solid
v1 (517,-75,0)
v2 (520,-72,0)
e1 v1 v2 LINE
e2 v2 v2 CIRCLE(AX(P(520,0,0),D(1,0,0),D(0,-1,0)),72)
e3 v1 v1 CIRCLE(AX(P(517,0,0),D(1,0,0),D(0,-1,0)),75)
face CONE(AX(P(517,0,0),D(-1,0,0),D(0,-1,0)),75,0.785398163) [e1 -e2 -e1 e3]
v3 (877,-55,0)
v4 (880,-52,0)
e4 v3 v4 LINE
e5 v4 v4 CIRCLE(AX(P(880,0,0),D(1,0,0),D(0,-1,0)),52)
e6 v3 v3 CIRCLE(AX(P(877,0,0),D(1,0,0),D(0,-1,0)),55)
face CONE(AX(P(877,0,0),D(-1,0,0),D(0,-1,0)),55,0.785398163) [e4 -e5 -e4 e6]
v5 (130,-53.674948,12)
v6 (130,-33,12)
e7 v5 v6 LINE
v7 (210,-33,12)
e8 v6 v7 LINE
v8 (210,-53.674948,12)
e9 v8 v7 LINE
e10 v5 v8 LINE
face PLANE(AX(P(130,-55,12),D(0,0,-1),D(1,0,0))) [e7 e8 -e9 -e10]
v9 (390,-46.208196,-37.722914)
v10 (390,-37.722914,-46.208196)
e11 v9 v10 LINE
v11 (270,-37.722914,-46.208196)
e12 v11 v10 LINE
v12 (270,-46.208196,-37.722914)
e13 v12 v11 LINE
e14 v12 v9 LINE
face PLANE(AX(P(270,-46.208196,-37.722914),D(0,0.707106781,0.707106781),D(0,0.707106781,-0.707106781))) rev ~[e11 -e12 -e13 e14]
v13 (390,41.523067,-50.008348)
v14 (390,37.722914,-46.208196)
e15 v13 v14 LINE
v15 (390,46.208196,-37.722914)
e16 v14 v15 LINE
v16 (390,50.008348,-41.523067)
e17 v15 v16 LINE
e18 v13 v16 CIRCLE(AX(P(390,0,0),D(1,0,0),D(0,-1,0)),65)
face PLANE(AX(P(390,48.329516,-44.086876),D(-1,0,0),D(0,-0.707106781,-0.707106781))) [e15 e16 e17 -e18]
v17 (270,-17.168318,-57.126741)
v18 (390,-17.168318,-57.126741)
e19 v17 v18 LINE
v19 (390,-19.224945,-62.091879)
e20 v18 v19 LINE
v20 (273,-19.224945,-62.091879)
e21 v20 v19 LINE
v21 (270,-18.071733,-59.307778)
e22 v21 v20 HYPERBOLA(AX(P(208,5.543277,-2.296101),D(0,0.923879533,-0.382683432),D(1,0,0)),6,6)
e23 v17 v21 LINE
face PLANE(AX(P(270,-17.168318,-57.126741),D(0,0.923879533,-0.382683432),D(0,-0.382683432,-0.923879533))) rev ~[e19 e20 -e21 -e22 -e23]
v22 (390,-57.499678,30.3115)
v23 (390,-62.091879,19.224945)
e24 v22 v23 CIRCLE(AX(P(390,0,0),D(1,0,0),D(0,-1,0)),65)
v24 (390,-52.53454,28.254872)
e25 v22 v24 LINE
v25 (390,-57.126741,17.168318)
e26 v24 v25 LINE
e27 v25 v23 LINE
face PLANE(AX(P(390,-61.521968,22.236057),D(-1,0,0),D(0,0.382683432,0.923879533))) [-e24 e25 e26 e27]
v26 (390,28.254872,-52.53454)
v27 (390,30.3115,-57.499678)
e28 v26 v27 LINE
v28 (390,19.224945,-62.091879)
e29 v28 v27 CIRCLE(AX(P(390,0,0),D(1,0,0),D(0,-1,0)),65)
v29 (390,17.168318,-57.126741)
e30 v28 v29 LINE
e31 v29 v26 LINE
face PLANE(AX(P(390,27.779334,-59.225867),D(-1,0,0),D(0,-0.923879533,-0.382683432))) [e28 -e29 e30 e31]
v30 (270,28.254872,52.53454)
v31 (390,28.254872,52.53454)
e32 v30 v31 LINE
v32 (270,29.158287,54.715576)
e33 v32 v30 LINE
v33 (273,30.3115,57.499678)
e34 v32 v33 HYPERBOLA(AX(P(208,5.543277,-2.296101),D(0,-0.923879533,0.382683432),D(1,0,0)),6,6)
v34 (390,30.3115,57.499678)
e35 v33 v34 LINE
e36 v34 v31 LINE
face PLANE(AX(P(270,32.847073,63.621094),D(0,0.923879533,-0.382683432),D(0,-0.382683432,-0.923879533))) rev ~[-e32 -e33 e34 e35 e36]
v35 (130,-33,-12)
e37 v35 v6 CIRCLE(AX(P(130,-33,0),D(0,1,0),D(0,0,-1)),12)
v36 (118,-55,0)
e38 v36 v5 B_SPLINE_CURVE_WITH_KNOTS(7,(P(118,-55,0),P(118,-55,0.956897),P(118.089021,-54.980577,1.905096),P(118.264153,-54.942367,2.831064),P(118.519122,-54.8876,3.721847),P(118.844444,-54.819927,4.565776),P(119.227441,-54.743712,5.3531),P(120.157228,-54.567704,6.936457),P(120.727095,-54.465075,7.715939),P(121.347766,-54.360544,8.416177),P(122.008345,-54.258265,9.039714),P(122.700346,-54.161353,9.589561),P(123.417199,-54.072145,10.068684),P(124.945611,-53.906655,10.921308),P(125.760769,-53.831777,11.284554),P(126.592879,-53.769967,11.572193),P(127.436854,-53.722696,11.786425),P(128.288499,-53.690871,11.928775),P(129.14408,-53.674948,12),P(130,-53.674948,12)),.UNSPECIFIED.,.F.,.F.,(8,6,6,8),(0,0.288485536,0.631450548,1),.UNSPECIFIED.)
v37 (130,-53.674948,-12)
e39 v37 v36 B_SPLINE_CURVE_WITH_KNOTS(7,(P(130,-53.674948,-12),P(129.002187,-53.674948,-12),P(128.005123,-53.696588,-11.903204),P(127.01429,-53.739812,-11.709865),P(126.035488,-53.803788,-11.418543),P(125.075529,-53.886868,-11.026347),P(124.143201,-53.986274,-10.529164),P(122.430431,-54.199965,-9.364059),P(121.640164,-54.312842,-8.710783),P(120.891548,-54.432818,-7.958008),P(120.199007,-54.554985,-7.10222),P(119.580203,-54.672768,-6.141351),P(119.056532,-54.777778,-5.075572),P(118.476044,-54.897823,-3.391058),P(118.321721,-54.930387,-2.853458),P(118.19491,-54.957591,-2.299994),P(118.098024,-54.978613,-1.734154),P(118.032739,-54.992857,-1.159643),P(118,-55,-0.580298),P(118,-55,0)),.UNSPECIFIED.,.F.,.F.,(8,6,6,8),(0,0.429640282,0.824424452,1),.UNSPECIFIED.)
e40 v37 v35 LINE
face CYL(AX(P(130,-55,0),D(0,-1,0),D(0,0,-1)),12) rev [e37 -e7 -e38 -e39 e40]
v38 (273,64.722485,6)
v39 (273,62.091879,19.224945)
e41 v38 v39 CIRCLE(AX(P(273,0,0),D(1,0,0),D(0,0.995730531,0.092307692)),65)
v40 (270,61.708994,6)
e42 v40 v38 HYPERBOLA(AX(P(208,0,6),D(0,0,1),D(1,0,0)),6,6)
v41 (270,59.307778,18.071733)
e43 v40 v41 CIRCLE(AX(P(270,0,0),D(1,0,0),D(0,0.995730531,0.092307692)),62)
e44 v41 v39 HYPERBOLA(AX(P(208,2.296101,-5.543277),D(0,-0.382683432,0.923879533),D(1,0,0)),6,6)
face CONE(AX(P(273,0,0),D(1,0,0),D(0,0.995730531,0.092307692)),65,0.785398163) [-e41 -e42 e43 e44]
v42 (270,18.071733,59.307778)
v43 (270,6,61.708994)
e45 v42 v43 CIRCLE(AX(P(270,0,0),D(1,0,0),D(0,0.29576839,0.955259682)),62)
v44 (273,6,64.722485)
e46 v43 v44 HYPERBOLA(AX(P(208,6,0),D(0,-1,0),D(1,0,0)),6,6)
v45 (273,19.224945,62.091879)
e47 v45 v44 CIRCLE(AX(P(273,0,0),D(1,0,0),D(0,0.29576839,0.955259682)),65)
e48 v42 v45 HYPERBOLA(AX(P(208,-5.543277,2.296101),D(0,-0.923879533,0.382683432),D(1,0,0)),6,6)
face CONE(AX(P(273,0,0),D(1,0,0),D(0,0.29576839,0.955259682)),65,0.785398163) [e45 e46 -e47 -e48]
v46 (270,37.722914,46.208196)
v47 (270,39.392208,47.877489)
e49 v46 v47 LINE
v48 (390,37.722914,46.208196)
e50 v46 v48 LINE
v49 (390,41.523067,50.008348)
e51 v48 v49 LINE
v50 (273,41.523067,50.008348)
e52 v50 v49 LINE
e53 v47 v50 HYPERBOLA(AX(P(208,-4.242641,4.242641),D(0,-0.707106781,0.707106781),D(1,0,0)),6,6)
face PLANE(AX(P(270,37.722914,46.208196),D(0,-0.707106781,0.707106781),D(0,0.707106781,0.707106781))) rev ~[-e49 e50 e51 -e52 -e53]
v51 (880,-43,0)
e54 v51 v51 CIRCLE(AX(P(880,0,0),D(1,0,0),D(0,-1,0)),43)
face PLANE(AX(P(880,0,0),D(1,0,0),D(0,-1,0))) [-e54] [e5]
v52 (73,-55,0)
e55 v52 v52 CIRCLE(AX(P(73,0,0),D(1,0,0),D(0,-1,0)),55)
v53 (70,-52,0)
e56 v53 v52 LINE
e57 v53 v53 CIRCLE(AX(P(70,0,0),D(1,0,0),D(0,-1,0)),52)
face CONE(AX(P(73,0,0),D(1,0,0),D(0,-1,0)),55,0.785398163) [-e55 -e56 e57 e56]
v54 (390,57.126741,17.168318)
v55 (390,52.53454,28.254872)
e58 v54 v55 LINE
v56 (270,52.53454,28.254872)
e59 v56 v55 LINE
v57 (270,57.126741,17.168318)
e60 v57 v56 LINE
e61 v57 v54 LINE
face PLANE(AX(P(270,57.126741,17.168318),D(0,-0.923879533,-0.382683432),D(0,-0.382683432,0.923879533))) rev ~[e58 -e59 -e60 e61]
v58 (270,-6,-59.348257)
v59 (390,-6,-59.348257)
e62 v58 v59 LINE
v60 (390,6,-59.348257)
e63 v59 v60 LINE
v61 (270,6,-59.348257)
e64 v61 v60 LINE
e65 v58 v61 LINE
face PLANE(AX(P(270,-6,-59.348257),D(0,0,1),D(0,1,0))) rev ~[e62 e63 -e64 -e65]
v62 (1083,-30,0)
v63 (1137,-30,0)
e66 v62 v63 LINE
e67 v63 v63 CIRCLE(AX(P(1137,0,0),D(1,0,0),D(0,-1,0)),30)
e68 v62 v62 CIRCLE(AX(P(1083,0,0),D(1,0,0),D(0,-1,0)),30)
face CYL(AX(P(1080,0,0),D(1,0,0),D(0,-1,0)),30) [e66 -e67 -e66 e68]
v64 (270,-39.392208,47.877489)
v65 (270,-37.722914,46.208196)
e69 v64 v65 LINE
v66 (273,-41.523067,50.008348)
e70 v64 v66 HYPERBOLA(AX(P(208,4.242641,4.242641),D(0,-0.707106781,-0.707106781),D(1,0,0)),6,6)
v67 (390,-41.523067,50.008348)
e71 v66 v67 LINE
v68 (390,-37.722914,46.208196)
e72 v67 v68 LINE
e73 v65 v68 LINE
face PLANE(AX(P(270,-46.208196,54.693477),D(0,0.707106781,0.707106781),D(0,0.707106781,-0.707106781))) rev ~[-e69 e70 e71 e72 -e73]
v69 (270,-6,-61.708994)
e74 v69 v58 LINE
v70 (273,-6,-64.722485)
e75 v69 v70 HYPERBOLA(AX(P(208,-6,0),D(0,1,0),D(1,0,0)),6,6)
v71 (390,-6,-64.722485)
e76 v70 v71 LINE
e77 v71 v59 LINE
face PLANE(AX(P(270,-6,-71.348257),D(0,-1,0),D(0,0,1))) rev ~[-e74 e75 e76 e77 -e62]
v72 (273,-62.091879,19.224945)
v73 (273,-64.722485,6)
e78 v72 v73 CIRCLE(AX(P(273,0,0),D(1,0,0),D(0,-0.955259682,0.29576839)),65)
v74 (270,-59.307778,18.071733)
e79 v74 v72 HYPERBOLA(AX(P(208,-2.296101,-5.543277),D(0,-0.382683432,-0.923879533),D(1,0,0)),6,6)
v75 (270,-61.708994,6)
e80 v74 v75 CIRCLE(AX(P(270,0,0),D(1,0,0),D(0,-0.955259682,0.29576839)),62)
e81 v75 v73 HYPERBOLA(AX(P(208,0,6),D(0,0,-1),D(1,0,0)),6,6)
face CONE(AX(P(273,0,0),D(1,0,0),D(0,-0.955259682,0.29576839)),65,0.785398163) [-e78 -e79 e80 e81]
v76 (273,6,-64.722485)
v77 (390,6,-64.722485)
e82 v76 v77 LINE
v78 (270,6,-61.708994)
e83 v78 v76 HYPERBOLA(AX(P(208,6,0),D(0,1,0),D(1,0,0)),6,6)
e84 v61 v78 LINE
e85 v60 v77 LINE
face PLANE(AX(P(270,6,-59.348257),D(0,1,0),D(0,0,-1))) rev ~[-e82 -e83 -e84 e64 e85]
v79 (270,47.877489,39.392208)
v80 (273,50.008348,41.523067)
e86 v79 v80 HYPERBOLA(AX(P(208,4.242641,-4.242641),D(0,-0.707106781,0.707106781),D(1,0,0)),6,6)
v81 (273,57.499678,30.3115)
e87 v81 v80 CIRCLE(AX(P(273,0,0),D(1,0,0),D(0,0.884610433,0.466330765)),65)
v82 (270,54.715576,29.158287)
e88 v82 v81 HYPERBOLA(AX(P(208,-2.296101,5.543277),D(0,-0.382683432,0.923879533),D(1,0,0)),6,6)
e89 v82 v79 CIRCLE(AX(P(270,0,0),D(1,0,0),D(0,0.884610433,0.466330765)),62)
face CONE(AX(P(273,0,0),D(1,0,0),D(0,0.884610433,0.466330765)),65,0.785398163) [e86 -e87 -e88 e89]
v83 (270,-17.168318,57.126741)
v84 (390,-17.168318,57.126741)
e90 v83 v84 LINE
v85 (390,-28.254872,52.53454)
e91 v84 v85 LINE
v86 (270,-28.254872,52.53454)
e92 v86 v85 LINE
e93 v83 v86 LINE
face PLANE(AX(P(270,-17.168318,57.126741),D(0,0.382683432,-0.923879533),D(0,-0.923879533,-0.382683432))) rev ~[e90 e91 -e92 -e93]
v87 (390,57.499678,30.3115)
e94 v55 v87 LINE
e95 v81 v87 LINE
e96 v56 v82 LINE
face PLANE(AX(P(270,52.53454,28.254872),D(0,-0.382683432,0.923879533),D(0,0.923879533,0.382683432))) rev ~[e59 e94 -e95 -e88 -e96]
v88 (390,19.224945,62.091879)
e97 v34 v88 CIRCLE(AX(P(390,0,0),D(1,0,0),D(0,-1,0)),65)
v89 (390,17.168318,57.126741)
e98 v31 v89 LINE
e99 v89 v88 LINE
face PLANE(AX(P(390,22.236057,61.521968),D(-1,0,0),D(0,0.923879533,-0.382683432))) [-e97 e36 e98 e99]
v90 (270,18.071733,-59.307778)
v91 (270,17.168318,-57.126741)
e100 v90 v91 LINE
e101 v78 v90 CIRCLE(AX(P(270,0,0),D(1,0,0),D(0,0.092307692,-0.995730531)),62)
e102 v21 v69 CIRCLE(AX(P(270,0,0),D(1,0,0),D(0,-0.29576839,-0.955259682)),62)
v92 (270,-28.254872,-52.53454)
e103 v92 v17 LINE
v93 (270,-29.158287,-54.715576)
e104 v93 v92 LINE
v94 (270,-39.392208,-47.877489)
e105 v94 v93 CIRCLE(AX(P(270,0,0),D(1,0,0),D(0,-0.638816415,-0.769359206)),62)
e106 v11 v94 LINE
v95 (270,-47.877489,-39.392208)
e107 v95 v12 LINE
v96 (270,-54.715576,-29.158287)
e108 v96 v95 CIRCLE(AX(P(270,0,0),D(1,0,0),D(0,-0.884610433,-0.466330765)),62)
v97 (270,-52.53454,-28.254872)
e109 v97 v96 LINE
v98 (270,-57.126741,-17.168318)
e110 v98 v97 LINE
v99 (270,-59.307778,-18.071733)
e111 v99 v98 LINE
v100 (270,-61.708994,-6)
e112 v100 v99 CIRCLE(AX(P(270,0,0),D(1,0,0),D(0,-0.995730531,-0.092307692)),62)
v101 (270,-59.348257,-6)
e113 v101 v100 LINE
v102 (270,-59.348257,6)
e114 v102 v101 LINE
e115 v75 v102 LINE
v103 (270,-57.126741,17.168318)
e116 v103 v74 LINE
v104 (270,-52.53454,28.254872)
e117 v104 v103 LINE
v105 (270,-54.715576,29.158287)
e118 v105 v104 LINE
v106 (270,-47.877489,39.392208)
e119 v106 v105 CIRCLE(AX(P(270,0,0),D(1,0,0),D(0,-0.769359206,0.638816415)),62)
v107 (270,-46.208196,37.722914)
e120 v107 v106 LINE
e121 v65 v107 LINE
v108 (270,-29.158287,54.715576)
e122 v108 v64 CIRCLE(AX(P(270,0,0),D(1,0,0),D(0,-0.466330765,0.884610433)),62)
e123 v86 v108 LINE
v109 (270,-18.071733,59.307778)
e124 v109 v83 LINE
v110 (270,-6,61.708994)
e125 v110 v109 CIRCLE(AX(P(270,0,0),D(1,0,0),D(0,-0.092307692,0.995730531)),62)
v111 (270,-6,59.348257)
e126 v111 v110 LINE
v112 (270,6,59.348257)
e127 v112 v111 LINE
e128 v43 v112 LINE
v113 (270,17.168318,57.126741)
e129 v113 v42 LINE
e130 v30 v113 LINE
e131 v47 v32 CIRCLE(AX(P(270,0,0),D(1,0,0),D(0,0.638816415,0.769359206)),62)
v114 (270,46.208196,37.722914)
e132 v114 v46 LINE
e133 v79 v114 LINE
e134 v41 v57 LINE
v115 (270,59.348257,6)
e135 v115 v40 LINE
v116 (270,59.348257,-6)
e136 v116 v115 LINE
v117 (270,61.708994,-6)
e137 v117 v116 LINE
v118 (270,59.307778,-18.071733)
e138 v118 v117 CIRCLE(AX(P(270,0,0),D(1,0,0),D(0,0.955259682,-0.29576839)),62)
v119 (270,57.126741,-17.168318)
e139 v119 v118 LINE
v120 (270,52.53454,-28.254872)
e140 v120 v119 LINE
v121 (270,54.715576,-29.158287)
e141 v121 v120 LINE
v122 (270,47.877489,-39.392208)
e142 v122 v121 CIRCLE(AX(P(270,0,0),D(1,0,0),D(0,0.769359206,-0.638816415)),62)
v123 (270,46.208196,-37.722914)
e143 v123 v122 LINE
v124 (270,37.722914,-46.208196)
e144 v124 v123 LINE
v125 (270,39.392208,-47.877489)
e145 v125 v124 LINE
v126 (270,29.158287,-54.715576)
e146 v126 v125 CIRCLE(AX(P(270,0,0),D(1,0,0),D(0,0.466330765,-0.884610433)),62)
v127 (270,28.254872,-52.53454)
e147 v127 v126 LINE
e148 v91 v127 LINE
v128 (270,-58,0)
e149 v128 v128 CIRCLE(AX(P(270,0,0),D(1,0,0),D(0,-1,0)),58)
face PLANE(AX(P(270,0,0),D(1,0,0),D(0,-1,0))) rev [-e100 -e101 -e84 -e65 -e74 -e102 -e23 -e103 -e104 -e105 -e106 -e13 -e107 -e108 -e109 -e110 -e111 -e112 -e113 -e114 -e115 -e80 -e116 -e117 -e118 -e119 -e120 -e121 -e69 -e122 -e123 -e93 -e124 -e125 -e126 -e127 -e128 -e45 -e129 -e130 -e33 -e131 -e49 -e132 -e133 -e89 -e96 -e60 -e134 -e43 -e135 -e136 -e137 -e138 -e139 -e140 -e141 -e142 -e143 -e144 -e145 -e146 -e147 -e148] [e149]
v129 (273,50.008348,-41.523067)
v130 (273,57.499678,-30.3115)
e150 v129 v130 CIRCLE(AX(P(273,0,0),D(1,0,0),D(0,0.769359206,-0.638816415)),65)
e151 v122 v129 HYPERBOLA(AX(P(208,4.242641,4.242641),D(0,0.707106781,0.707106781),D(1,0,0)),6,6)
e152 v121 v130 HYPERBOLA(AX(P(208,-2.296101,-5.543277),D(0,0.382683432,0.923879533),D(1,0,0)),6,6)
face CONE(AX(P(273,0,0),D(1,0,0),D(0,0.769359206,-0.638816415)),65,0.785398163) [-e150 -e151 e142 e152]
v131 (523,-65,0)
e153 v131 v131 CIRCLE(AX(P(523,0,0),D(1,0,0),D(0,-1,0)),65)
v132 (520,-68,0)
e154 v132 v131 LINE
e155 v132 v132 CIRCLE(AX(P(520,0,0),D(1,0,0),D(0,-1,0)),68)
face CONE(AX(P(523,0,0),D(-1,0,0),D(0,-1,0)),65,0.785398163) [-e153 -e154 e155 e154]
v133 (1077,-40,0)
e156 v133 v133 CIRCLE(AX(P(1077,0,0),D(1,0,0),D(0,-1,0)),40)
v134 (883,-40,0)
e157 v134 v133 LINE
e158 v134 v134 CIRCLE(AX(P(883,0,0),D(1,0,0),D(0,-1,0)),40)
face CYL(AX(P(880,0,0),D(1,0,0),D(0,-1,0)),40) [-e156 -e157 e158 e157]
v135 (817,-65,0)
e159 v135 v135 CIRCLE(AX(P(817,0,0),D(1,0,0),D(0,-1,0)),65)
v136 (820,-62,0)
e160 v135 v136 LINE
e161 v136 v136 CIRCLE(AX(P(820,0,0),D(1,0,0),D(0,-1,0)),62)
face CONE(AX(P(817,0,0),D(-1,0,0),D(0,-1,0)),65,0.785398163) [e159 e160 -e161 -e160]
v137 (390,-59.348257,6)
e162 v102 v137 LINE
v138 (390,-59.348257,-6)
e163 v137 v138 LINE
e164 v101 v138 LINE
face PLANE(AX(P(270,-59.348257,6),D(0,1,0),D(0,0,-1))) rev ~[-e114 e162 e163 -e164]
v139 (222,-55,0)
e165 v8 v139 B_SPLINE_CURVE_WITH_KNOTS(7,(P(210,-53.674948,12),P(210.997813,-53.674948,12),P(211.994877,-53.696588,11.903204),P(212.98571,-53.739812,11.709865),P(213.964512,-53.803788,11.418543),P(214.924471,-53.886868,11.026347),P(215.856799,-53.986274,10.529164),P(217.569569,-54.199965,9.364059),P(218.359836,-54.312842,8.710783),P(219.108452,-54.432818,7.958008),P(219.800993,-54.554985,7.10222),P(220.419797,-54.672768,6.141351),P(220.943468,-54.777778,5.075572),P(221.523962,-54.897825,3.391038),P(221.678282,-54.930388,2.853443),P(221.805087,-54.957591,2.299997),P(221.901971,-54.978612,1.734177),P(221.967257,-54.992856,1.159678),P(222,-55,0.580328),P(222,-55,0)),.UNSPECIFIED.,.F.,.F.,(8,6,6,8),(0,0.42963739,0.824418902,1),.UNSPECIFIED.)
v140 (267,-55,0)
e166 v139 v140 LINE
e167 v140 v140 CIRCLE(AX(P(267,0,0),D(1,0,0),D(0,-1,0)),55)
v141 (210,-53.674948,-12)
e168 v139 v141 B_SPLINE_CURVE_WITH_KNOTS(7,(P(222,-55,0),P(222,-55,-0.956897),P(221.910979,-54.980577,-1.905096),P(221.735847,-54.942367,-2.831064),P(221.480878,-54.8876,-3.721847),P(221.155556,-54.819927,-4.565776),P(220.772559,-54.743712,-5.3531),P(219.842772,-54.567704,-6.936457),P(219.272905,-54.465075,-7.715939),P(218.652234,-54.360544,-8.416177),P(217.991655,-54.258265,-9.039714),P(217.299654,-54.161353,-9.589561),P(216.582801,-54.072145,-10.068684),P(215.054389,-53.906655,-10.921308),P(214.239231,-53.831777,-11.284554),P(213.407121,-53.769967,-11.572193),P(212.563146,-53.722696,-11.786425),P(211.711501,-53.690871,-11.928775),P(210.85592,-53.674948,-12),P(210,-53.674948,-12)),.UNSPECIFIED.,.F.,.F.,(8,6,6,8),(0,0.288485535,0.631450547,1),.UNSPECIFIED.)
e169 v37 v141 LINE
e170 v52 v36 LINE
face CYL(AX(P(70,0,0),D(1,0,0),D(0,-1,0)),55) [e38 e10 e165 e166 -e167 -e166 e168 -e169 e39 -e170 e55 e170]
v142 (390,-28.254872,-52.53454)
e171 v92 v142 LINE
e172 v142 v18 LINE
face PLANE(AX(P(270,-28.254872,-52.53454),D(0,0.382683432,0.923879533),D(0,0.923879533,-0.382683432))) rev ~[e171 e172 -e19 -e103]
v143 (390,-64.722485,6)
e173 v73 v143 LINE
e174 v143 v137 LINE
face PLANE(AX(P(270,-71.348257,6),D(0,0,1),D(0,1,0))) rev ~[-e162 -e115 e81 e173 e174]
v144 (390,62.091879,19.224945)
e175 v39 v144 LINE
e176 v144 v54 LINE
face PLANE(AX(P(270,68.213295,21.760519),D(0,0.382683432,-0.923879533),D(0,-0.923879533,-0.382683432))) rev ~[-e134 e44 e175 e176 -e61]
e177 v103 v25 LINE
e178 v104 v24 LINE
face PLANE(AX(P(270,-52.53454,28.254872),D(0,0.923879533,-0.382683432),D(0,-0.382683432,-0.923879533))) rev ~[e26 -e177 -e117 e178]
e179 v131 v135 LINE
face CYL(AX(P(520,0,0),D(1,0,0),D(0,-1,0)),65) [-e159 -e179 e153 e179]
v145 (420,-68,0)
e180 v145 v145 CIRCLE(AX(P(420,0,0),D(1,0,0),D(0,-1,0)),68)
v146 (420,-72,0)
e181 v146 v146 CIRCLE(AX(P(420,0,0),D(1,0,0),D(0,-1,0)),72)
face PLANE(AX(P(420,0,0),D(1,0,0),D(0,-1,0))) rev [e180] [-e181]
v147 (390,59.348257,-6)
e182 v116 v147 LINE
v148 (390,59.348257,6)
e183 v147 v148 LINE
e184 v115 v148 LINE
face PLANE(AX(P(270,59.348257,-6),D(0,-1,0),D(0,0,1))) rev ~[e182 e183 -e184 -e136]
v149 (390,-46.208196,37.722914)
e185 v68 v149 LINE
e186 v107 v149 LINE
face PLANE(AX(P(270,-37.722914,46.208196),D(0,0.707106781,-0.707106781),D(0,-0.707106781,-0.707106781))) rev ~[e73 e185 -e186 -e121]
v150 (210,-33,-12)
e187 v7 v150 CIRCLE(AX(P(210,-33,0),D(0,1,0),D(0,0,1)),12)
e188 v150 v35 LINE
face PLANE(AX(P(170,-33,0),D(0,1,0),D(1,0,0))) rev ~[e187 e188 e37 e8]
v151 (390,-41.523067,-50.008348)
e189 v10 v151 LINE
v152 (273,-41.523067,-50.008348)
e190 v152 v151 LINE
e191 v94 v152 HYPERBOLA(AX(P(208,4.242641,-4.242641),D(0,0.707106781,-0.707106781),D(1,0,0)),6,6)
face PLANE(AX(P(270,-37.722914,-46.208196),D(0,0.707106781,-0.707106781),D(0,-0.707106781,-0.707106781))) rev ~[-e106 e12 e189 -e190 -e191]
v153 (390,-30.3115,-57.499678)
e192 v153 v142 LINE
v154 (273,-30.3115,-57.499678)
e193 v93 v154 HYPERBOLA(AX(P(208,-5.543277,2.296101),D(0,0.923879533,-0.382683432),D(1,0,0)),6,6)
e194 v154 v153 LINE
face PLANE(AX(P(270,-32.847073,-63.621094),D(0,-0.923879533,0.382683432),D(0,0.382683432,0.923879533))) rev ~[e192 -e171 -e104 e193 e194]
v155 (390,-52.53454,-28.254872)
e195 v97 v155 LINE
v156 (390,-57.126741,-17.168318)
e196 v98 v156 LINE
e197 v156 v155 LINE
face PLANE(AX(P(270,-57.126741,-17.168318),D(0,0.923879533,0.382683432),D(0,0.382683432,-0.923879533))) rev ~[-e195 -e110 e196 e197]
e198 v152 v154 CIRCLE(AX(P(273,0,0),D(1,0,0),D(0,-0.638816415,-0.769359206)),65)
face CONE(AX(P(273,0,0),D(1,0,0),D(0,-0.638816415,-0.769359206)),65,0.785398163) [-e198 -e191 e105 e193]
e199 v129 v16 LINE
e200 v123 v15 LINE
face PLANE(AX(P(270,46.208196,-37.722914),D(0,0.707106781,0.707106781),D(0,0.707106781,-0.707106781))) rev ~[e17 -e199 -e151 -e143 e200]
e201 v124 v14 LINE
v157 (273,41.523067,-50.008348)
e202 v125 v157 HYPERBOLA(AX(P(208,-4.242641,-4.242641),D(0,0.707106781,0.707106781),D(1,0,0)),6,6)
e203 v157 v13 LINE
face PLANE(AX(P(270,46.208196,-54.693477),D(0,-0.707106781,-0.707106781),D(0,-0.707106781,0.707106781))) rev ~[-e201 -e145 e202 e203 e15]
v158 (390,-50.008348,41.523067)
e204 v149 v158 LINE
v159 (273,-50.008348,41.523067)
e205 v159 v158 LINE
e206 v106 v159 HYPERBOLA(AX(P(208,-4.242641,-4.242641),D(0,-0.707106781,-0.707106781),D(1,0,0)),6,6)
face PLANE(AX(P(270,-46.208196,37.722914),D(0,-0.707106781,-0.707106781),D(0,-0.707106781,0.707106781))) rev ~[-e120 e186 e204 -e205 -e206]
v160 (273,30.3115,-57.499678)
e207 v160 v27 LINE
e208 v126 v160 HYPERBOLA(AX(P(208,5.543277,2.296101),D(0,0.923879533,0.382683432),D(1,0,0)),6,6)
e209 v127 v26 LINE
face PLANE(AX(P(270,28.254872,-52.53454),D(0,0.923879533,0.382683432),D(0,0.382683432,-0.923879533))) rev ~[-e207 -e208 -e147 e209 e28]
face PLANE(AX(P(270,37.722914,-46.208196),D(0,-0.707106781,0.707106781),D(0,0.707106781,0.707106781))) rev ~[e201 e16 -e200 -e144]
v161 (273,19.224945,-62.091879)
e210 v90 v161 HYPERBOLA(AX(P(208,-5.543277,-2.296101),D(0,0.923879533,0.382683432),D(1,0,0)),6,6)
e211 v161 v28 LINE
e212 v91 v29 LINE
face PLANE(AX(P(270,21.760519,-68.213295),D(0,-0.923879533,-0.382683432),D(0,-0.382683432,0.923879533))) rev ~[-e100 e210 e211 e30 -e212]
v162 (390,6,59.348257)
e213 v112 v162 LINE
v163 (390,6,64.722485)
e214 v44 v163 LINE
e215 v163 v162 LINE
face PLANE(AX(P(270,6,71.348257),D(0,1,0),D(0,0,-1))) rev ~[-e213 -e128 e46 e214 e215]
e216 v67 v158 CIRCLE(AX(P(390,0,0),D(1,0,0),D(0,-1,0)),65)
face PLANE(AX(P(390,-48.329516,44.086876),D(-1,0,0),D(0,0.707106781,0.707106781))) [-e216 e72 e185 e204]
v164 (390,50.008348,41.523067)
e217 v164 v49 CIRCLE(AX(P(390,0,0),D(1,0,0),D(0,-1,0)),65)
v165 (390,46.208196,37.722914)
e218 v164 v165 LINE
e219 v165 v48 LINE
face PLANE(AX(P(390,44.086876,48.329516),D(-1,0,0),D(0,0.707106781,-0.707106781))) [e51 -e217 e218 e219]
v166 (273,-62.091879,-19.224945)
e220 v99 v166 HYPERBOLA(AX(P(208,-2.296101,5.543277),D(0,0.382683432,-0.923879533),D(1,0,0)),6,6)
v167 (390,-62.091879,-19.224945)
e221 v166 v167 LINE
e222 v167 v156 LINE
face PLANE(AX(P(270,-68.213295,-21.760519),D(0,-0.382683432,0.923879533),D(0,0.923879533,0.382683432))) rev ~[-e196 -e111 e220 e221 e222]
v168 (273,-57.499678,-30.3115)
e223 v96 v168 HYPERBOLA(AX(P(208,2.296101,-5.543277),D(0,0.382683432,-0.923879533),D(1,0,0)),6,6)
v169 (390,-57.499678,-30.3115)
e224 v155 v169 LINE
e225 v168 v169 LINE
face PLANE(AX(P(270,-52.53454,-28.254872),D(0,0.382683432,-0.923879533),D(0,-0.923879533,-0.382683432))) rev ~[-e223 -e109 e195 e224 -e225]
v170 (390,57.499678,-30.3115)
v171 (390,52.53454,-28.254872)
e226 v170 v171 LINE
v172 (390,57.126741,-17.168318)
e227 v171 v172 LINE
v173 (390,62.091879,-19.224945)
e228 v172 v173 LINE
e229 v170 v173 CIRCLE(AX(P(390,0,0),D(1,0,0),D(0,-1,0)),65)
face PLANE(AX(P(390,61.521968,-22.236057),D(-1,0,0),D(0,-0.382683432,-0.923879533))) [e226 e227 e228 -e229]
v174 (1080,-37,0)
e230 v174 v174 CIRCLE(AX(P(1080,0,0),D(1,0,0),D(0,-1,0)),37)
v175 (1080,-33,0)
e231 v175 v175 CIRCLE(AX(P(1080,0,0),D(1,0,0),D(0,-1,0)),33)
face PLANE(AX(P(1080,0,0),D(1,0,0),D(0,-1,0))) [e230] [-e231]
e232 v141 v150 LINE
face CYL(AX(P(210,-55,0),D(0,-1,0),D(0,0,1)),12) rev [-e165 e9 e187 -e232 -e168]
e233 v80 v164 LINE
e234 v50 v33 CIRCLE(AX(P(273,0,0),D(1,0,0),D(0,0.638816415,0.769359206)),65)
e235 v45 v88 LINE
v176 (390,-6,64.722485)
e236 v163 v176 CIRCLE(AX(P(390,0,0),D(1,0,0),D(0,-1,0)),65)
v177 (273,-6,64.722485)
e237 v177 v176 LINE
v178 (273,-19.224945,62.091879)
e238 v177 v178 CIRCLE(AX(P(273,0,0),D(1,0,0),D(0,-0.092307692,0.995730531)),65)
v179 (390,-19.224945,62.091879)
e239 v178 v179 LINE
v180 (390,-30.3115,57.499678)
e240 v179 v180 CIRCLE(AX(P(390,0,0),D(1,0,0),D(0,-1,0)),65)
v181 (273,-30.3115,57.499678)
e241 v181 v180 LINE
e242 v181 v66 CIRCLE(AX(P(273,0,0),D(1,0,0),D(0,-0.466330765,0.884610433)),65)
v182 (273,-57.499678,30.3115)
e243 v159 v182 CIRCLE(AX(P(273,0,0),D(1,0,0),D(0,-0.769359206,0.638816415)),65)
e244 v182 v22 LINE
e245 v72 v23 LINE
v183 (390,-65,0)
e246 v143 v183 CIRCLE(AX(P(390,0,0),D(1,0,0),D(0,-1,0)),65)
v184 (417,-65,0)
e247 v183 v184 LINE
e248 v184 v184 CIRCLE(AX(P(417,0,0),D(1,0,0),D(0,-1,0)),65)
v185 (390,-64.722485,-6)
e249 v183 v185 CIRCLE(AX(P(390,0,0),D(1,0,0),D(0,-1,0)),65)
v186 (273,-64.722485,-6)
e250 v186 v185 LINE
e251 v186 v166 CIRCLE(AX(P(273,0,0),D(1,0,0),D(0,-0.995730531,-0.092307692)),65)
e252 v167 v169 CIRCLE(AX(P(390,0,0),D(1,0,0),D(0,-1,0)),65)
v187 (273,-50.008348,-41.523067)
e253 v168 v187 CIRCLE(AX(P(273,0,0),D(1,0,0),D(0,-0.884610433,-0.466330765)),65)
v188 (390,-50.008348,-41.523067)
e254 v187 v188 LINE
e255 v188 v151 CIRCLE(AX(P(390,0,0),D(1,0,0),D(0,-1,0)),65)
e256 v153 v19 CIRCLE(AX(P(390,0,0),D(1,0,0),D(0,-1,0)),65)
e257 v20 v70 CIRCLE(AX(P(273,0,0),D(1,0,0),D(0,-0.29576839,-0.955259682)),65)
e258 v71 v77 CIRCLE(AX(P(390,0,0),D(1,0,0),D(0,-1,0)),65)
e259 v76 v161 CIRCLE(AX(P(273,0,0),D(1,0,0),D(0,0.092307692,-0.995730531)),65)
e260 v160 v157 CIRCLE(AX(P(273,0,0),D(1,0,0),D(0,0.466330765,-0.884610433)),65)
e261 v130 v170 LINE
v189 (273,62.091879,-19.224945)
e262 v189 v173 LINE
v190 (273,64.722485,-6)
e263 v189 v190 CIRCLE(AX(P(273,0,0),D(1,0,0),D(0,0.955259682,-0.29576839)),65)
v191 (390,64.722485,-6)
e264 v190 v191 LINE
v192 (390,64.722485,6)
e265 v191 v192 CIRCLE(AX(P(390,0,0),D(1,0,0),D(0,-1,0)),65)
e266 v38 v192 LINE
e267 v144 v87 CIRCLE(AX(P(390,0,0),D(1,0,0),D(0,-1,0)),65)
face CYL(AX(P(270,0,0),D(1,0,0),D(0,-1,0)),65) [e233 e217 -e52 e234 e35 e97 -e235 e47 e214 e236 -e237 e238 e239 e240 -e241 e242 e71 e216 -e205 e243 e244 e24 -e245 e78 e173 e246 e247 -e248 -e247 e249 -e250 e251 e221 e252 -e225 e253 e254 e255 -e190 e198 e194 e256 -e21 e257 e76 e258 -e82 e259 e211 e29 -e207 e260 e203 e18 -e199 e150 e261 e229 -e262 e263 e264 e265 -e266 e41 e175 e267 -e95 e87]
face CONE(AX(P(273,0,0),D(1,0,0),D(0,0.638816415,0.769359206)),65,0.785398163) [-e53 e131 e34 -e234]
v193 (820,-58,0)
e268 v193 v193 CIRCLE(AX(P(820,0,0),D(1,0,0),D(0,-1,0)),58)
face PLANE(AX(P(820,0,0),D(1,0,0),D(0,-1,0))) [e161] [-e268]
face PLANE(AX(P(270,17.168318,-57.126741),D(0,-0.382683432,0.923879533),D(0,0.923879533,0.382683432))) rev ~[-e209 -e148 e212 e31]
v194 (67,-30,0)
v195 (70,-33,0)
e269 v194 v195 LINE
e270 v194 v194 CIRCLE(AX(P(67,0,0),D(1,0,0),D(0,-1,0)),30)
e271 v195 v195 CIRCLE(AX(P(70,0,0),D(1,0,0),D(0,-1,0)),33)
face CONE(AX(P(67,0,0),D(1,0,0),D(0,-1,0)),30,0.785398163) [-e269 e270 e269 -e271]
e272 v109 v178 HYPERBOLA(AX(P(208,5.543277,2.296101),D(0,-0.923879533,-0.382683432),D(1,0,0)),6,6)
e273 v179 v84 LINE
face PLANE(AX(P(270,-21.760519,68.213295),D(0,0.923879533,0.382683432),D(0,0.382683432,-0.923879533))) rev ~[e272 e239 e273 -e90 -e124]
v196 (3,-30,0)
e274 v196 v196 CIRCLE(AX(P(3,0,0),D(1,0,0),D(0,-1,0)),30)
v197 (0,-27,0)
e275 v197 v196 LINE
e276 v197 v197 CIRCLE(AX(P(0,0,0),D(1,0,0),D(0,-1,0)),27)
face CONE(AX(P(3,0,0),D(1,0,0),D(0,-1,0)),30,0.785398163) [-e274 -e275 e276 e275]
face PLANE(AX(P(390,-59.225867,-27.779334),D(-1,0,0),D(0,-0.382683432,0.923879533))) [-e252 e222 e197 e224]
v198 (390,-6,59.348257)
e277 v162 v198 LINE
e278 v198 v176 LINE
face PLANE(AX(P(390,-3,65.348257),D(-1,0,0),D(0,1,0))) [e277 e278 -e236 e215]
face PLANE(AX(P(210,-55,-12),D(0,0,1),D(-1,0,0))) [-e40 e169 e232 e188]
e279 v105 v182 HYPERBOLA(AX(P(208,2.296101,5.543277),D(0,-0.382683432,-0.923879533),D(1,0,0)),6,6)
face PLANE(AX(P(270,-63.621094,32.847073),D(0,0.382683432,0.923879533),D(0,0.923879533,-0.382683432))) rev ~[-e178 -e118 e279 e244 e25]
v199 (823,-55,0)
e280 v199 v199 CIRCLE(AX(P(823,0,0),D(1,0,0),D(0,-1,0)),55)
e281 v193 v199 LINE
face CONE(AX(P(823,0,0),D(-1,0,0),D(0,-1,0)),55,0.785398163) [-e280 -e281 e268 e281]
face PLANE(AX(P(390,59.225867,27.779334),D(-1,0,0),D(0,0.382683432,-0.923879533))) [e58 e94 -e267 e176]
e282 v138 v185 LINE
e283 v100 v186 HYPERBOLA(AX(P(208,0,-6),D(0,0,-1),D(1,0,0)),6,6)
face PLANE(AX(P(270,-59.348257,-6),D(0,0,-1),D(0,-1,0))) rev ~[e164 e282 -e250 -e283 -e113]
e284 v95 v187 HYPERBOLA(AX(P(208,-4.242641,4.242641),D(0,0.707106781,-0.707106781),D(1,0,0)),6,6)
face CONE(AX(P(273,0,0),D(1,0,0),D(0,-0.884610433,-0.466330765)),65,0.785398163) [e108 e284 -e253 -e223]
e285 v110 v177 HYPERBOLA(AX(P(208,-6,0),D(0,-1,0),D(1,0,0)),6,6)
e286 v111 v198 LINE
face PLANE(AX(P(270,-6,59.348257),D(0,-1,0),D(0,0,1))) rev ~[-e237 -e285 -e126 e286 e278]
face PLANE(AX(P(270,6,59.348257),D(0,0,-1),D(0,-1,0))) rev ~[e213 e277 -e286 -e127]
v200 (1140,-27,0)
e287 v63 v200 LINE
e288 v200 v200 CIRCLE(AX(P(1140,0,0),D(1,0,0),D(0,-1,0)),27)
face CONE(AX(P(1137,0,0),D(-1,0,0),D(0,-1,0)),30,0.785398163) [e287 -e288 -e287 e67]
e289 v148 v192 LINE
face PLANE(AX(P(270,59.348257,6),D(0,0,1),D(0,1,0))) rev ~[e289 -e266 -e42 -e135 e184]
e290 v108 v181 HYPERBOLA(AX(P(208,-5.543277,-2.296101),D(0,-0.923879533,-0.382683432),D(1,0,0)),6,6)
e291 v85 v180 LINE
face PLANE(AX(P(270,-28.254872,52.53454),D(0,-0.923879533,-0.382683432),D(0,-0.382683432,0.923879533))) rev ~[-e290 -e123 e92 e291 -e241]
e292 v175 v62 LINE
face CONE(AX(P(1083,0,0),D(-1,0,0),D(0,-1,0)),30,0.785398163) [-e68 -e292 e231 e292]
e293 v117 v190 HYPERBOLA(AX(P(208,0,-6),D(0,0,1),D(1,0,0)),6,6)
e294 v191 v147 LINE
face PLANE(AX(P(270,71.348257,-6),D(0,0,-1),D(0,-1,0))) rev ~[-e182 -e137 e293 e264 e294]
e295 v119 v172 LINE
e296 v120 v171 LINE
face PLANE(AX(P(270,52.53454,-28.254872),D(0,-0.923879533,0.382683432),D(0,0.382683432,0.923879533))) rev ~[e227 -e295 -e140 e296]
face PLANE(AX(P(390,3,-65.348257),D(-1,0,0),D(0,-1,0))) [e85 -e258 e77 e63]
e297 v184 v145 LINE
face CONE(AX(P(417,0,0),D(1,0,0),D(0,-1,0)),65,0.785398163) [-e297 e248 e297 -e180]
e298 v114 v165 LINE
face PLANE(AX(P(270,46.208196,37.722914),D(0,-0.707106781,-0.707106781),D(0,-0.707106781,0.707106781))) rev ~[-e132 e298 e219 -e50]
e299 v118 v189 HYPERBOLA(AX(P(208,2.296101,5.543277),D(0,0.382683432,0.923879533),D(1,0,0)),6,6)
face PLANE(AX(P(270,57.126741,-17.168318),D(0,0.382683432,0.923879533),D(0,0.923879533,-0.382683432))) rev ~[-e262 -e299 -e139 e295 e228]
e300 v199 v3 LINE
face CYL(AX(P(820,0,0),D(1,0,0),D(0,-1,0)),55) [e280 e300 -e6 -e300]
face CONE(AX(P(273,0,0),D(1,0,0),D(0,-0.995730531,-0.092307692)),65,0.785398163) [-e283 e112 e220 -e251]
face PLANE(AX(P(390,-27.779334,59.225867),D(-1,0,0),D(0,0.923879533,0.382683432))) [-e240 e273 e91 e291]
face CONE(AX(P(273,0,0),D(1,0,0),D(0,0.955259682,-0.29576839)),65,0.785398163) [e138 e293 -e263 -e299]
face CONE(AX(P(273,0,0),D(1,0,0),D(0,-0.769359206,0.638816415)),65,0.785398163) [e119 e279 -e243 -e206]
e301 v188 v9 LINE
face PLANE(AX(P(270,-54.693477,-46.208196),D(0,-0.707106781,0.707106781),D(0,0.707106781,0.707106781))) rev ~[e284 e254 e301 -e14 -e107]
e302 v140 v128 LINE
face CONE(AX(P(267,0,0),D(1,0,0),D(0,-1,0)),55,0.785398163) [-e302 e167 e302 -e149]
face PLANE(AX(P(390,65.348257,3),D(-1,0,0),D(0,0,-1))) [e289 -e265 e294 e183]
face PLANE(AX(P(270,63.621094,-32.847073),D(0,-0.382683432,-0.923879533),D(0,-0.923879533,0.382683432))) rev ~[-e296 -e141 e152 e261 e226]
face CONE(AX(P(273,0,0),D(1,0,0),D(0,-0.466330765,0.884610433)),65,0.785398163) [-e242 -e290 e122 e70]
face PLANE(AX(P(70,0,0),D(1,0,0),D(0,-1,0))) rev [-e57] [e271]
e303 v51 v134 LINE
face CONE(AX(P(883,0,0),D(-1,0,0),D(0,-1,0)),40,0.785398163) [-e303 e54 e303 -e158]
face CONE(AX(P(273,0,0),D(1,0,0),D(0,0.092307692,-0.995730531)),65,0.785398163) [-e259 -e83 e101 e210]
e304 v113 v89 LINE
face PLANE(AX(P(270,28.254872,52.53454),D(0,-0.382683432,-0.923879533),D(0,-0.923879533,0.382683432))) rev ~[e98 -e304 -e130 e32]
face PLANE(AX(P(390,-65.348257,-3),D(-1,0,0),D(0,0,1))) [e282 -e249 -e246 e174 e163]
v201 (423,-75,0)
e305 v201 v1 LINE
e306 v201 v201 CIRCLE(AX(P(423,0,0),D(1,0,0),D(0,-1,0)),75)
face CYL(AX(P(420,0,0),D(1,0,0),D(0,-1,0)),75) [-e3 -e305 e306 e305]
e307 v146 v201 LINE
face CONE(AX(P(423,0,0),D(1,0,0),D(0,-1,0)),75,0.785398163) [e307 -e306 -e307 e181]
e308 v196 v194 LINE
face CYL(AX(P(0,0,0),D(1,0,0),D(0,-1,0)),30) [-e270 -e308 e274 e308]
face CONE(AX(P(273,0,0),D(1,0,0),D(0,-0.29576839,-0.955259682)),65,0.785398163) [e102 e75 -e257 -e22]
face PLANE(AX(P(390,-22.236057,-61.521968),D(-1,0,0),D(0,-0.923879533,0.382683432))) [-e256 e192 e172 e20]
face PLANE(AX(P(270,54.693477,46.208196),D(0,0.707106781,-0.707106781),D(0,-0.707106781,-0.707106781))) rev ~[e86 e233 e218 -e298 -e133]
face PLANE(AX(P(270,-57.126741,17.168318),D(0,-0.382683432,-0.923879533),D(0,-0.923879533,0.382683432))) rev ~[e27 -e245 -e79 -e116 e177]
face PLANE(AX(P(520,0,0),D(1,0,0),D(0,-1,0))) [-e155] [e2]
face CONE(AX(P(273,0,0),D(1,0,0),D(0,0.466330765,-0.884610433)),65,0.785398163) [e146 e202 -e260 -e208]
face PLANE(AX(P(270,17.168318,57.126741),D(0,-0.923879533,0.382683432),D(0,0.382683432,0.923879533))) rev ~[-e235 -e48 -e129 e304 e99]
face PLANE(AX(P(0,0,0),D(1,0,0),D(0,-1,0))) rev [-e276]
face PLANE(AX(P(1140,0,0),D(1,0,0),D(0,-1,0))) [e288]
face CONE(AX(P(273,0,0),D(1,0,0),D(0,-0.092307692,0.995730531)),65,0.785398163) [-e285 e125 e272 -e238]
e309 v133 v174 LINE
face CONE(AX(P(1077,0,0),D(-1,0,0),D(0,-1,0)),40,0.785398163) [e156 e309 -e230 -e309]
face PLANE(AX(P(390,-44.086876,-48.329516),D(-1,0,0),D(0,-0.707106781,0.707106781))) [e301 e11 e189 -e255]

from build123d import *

# Parameters (mm, degrees)
WYTNIJ_WYCI_GNI_CIE1_DEPTH = 22
WYTNIJ_WYCI_GNI_CIE2_DEPTH = 120
SZYK_KO_OWY2_COUNT         = 16
SFAZOWANIE1_SIZE           = 3


with BuildPart() as part:
    # Szkic1 → Obrót1 (revolve)
    with BuildSketch(Plane.XY, mode=Mode.PRIVATE) as obr_t1_sk:
        Polygon((0, 0), (0, 30), (70, 30), (70, 55), (270, 55), (270, 65), (420, 65), (420, 75), (520, 75), (520, 65), (820, 65), (820, 55), (880, 55), (880, 40), (1080, 40), (1080, 30), (1140, 30), (1140, 0), align=None)
    revolve(obr_t1_sk.sketch.rotate(Axis((0, 0, 0), (1, 0, 0)), 180), axis=Axis((0, 0, 0), (1, 0, 0)))

    # Szkic2 → Wytnij-wyciągnięcie1 (cut)
    with BuildSketch(Plane(origin=(0, -55, 0), x_dir=(-1, 0, 0), z_dir=(0, -1, 0))):
        with BuildLine():
            Line((-210, 12), (-130, 12))
            ThreePointArc((-130, 12), (-118, 0), (-130, -12))
            Line((-130, -12), (-210, -12))
            ThreePointArc((-210, -12), (-222, 0), (-210, 12))
        make_face()
    extrude(amount=-WYTNIJ_WYCI_GNI_CIE1_DEPTH, mode=Mode.SUBTRACT)

    # Szkic4 → Wytnij-wyciągnięcie2 (cut)
    with BuildSketch(Plane.ZY.offset(-270)):
        Polygon((0, -65.135380743), (0, -59.348257278), (-6, -59.348257278), (-6, -71.348257278), (0, -71.348257278), align=None)
        Polygon((6, -59.348257278), (0, -59.348257278), (0, -65.135380743), (0, -71.348257278), (6, -71.348257278), align=None)
    wytnij_wyci_gni_cie2 = extrude(amount=-WYTNIJ_WYCI_GNI_CIE2_DEPTH, mode=Mode.SUBTRACT)

    # Szyk kołowy2: Wytnij-wyciągnięcie2 ×16 about axis
    szyk_ko_owy2_axis = Axis((0, 0, 0), (1, 0, 0))
    for i in range(1, SZYK_KO_OWY2_COUNT):
        add(wytnij_wyci_gni_cie2.rotate(szyk_ko_owy2_axis, i * 360 / SZYK_KO_OWY2_COUNT), mode=Mode.SUBTRACT)

    # Sfazowanie1
    sfazowanie1_edges = [part.edges().sort_by_distance(p)[0] for p in [
        (1140, 30, 0),
        (1080, 30, 0),
        (1080, 40, 0),
        (880, 40, 0),
        (880, 55, 0),
        (820, 55, 0),
        (820, 65, 0),
        (520, 65, 0),
        (520, 75, 0),
        (420, 75, 0),
        (420, 65, 0),
        (270, -63.751043226, 12.680870931),
        (270, 55, 0),
        (70, 55, 0),
        (70, 30, 0),
        (0, 30, 0),
        (270, -54.0455248, 36.112065146),
        (270, -36.112065146, 54.0455248),
        (270, -12.680870931, 63.751043226),
        (270, 12.680870931, 63.751043226),
        (270, 36.112065146, 54.0455248),
        (270, 54.0455248, 36.112065146),
        (270, 63.751043226, 12.680870931),
        (270, 63.751043226, -12.680870931),
        (270, 54.0455248, -36.112065146),
        (270, 36.112065146, -54.0455248),
        (270, 12.680870931, -63.751043226),
        (270, -12.680870931, -63.751043226),
        (270, -36.112065146, -54.0455248),
        (270, -54.0455248, -36.112065146),
        (270, -63.751043226, -12.680870931),
    ]]
    chamfer(sfazowanie1_edges, length=SFAZOWANIE1_SIZE)


solid = part.part
